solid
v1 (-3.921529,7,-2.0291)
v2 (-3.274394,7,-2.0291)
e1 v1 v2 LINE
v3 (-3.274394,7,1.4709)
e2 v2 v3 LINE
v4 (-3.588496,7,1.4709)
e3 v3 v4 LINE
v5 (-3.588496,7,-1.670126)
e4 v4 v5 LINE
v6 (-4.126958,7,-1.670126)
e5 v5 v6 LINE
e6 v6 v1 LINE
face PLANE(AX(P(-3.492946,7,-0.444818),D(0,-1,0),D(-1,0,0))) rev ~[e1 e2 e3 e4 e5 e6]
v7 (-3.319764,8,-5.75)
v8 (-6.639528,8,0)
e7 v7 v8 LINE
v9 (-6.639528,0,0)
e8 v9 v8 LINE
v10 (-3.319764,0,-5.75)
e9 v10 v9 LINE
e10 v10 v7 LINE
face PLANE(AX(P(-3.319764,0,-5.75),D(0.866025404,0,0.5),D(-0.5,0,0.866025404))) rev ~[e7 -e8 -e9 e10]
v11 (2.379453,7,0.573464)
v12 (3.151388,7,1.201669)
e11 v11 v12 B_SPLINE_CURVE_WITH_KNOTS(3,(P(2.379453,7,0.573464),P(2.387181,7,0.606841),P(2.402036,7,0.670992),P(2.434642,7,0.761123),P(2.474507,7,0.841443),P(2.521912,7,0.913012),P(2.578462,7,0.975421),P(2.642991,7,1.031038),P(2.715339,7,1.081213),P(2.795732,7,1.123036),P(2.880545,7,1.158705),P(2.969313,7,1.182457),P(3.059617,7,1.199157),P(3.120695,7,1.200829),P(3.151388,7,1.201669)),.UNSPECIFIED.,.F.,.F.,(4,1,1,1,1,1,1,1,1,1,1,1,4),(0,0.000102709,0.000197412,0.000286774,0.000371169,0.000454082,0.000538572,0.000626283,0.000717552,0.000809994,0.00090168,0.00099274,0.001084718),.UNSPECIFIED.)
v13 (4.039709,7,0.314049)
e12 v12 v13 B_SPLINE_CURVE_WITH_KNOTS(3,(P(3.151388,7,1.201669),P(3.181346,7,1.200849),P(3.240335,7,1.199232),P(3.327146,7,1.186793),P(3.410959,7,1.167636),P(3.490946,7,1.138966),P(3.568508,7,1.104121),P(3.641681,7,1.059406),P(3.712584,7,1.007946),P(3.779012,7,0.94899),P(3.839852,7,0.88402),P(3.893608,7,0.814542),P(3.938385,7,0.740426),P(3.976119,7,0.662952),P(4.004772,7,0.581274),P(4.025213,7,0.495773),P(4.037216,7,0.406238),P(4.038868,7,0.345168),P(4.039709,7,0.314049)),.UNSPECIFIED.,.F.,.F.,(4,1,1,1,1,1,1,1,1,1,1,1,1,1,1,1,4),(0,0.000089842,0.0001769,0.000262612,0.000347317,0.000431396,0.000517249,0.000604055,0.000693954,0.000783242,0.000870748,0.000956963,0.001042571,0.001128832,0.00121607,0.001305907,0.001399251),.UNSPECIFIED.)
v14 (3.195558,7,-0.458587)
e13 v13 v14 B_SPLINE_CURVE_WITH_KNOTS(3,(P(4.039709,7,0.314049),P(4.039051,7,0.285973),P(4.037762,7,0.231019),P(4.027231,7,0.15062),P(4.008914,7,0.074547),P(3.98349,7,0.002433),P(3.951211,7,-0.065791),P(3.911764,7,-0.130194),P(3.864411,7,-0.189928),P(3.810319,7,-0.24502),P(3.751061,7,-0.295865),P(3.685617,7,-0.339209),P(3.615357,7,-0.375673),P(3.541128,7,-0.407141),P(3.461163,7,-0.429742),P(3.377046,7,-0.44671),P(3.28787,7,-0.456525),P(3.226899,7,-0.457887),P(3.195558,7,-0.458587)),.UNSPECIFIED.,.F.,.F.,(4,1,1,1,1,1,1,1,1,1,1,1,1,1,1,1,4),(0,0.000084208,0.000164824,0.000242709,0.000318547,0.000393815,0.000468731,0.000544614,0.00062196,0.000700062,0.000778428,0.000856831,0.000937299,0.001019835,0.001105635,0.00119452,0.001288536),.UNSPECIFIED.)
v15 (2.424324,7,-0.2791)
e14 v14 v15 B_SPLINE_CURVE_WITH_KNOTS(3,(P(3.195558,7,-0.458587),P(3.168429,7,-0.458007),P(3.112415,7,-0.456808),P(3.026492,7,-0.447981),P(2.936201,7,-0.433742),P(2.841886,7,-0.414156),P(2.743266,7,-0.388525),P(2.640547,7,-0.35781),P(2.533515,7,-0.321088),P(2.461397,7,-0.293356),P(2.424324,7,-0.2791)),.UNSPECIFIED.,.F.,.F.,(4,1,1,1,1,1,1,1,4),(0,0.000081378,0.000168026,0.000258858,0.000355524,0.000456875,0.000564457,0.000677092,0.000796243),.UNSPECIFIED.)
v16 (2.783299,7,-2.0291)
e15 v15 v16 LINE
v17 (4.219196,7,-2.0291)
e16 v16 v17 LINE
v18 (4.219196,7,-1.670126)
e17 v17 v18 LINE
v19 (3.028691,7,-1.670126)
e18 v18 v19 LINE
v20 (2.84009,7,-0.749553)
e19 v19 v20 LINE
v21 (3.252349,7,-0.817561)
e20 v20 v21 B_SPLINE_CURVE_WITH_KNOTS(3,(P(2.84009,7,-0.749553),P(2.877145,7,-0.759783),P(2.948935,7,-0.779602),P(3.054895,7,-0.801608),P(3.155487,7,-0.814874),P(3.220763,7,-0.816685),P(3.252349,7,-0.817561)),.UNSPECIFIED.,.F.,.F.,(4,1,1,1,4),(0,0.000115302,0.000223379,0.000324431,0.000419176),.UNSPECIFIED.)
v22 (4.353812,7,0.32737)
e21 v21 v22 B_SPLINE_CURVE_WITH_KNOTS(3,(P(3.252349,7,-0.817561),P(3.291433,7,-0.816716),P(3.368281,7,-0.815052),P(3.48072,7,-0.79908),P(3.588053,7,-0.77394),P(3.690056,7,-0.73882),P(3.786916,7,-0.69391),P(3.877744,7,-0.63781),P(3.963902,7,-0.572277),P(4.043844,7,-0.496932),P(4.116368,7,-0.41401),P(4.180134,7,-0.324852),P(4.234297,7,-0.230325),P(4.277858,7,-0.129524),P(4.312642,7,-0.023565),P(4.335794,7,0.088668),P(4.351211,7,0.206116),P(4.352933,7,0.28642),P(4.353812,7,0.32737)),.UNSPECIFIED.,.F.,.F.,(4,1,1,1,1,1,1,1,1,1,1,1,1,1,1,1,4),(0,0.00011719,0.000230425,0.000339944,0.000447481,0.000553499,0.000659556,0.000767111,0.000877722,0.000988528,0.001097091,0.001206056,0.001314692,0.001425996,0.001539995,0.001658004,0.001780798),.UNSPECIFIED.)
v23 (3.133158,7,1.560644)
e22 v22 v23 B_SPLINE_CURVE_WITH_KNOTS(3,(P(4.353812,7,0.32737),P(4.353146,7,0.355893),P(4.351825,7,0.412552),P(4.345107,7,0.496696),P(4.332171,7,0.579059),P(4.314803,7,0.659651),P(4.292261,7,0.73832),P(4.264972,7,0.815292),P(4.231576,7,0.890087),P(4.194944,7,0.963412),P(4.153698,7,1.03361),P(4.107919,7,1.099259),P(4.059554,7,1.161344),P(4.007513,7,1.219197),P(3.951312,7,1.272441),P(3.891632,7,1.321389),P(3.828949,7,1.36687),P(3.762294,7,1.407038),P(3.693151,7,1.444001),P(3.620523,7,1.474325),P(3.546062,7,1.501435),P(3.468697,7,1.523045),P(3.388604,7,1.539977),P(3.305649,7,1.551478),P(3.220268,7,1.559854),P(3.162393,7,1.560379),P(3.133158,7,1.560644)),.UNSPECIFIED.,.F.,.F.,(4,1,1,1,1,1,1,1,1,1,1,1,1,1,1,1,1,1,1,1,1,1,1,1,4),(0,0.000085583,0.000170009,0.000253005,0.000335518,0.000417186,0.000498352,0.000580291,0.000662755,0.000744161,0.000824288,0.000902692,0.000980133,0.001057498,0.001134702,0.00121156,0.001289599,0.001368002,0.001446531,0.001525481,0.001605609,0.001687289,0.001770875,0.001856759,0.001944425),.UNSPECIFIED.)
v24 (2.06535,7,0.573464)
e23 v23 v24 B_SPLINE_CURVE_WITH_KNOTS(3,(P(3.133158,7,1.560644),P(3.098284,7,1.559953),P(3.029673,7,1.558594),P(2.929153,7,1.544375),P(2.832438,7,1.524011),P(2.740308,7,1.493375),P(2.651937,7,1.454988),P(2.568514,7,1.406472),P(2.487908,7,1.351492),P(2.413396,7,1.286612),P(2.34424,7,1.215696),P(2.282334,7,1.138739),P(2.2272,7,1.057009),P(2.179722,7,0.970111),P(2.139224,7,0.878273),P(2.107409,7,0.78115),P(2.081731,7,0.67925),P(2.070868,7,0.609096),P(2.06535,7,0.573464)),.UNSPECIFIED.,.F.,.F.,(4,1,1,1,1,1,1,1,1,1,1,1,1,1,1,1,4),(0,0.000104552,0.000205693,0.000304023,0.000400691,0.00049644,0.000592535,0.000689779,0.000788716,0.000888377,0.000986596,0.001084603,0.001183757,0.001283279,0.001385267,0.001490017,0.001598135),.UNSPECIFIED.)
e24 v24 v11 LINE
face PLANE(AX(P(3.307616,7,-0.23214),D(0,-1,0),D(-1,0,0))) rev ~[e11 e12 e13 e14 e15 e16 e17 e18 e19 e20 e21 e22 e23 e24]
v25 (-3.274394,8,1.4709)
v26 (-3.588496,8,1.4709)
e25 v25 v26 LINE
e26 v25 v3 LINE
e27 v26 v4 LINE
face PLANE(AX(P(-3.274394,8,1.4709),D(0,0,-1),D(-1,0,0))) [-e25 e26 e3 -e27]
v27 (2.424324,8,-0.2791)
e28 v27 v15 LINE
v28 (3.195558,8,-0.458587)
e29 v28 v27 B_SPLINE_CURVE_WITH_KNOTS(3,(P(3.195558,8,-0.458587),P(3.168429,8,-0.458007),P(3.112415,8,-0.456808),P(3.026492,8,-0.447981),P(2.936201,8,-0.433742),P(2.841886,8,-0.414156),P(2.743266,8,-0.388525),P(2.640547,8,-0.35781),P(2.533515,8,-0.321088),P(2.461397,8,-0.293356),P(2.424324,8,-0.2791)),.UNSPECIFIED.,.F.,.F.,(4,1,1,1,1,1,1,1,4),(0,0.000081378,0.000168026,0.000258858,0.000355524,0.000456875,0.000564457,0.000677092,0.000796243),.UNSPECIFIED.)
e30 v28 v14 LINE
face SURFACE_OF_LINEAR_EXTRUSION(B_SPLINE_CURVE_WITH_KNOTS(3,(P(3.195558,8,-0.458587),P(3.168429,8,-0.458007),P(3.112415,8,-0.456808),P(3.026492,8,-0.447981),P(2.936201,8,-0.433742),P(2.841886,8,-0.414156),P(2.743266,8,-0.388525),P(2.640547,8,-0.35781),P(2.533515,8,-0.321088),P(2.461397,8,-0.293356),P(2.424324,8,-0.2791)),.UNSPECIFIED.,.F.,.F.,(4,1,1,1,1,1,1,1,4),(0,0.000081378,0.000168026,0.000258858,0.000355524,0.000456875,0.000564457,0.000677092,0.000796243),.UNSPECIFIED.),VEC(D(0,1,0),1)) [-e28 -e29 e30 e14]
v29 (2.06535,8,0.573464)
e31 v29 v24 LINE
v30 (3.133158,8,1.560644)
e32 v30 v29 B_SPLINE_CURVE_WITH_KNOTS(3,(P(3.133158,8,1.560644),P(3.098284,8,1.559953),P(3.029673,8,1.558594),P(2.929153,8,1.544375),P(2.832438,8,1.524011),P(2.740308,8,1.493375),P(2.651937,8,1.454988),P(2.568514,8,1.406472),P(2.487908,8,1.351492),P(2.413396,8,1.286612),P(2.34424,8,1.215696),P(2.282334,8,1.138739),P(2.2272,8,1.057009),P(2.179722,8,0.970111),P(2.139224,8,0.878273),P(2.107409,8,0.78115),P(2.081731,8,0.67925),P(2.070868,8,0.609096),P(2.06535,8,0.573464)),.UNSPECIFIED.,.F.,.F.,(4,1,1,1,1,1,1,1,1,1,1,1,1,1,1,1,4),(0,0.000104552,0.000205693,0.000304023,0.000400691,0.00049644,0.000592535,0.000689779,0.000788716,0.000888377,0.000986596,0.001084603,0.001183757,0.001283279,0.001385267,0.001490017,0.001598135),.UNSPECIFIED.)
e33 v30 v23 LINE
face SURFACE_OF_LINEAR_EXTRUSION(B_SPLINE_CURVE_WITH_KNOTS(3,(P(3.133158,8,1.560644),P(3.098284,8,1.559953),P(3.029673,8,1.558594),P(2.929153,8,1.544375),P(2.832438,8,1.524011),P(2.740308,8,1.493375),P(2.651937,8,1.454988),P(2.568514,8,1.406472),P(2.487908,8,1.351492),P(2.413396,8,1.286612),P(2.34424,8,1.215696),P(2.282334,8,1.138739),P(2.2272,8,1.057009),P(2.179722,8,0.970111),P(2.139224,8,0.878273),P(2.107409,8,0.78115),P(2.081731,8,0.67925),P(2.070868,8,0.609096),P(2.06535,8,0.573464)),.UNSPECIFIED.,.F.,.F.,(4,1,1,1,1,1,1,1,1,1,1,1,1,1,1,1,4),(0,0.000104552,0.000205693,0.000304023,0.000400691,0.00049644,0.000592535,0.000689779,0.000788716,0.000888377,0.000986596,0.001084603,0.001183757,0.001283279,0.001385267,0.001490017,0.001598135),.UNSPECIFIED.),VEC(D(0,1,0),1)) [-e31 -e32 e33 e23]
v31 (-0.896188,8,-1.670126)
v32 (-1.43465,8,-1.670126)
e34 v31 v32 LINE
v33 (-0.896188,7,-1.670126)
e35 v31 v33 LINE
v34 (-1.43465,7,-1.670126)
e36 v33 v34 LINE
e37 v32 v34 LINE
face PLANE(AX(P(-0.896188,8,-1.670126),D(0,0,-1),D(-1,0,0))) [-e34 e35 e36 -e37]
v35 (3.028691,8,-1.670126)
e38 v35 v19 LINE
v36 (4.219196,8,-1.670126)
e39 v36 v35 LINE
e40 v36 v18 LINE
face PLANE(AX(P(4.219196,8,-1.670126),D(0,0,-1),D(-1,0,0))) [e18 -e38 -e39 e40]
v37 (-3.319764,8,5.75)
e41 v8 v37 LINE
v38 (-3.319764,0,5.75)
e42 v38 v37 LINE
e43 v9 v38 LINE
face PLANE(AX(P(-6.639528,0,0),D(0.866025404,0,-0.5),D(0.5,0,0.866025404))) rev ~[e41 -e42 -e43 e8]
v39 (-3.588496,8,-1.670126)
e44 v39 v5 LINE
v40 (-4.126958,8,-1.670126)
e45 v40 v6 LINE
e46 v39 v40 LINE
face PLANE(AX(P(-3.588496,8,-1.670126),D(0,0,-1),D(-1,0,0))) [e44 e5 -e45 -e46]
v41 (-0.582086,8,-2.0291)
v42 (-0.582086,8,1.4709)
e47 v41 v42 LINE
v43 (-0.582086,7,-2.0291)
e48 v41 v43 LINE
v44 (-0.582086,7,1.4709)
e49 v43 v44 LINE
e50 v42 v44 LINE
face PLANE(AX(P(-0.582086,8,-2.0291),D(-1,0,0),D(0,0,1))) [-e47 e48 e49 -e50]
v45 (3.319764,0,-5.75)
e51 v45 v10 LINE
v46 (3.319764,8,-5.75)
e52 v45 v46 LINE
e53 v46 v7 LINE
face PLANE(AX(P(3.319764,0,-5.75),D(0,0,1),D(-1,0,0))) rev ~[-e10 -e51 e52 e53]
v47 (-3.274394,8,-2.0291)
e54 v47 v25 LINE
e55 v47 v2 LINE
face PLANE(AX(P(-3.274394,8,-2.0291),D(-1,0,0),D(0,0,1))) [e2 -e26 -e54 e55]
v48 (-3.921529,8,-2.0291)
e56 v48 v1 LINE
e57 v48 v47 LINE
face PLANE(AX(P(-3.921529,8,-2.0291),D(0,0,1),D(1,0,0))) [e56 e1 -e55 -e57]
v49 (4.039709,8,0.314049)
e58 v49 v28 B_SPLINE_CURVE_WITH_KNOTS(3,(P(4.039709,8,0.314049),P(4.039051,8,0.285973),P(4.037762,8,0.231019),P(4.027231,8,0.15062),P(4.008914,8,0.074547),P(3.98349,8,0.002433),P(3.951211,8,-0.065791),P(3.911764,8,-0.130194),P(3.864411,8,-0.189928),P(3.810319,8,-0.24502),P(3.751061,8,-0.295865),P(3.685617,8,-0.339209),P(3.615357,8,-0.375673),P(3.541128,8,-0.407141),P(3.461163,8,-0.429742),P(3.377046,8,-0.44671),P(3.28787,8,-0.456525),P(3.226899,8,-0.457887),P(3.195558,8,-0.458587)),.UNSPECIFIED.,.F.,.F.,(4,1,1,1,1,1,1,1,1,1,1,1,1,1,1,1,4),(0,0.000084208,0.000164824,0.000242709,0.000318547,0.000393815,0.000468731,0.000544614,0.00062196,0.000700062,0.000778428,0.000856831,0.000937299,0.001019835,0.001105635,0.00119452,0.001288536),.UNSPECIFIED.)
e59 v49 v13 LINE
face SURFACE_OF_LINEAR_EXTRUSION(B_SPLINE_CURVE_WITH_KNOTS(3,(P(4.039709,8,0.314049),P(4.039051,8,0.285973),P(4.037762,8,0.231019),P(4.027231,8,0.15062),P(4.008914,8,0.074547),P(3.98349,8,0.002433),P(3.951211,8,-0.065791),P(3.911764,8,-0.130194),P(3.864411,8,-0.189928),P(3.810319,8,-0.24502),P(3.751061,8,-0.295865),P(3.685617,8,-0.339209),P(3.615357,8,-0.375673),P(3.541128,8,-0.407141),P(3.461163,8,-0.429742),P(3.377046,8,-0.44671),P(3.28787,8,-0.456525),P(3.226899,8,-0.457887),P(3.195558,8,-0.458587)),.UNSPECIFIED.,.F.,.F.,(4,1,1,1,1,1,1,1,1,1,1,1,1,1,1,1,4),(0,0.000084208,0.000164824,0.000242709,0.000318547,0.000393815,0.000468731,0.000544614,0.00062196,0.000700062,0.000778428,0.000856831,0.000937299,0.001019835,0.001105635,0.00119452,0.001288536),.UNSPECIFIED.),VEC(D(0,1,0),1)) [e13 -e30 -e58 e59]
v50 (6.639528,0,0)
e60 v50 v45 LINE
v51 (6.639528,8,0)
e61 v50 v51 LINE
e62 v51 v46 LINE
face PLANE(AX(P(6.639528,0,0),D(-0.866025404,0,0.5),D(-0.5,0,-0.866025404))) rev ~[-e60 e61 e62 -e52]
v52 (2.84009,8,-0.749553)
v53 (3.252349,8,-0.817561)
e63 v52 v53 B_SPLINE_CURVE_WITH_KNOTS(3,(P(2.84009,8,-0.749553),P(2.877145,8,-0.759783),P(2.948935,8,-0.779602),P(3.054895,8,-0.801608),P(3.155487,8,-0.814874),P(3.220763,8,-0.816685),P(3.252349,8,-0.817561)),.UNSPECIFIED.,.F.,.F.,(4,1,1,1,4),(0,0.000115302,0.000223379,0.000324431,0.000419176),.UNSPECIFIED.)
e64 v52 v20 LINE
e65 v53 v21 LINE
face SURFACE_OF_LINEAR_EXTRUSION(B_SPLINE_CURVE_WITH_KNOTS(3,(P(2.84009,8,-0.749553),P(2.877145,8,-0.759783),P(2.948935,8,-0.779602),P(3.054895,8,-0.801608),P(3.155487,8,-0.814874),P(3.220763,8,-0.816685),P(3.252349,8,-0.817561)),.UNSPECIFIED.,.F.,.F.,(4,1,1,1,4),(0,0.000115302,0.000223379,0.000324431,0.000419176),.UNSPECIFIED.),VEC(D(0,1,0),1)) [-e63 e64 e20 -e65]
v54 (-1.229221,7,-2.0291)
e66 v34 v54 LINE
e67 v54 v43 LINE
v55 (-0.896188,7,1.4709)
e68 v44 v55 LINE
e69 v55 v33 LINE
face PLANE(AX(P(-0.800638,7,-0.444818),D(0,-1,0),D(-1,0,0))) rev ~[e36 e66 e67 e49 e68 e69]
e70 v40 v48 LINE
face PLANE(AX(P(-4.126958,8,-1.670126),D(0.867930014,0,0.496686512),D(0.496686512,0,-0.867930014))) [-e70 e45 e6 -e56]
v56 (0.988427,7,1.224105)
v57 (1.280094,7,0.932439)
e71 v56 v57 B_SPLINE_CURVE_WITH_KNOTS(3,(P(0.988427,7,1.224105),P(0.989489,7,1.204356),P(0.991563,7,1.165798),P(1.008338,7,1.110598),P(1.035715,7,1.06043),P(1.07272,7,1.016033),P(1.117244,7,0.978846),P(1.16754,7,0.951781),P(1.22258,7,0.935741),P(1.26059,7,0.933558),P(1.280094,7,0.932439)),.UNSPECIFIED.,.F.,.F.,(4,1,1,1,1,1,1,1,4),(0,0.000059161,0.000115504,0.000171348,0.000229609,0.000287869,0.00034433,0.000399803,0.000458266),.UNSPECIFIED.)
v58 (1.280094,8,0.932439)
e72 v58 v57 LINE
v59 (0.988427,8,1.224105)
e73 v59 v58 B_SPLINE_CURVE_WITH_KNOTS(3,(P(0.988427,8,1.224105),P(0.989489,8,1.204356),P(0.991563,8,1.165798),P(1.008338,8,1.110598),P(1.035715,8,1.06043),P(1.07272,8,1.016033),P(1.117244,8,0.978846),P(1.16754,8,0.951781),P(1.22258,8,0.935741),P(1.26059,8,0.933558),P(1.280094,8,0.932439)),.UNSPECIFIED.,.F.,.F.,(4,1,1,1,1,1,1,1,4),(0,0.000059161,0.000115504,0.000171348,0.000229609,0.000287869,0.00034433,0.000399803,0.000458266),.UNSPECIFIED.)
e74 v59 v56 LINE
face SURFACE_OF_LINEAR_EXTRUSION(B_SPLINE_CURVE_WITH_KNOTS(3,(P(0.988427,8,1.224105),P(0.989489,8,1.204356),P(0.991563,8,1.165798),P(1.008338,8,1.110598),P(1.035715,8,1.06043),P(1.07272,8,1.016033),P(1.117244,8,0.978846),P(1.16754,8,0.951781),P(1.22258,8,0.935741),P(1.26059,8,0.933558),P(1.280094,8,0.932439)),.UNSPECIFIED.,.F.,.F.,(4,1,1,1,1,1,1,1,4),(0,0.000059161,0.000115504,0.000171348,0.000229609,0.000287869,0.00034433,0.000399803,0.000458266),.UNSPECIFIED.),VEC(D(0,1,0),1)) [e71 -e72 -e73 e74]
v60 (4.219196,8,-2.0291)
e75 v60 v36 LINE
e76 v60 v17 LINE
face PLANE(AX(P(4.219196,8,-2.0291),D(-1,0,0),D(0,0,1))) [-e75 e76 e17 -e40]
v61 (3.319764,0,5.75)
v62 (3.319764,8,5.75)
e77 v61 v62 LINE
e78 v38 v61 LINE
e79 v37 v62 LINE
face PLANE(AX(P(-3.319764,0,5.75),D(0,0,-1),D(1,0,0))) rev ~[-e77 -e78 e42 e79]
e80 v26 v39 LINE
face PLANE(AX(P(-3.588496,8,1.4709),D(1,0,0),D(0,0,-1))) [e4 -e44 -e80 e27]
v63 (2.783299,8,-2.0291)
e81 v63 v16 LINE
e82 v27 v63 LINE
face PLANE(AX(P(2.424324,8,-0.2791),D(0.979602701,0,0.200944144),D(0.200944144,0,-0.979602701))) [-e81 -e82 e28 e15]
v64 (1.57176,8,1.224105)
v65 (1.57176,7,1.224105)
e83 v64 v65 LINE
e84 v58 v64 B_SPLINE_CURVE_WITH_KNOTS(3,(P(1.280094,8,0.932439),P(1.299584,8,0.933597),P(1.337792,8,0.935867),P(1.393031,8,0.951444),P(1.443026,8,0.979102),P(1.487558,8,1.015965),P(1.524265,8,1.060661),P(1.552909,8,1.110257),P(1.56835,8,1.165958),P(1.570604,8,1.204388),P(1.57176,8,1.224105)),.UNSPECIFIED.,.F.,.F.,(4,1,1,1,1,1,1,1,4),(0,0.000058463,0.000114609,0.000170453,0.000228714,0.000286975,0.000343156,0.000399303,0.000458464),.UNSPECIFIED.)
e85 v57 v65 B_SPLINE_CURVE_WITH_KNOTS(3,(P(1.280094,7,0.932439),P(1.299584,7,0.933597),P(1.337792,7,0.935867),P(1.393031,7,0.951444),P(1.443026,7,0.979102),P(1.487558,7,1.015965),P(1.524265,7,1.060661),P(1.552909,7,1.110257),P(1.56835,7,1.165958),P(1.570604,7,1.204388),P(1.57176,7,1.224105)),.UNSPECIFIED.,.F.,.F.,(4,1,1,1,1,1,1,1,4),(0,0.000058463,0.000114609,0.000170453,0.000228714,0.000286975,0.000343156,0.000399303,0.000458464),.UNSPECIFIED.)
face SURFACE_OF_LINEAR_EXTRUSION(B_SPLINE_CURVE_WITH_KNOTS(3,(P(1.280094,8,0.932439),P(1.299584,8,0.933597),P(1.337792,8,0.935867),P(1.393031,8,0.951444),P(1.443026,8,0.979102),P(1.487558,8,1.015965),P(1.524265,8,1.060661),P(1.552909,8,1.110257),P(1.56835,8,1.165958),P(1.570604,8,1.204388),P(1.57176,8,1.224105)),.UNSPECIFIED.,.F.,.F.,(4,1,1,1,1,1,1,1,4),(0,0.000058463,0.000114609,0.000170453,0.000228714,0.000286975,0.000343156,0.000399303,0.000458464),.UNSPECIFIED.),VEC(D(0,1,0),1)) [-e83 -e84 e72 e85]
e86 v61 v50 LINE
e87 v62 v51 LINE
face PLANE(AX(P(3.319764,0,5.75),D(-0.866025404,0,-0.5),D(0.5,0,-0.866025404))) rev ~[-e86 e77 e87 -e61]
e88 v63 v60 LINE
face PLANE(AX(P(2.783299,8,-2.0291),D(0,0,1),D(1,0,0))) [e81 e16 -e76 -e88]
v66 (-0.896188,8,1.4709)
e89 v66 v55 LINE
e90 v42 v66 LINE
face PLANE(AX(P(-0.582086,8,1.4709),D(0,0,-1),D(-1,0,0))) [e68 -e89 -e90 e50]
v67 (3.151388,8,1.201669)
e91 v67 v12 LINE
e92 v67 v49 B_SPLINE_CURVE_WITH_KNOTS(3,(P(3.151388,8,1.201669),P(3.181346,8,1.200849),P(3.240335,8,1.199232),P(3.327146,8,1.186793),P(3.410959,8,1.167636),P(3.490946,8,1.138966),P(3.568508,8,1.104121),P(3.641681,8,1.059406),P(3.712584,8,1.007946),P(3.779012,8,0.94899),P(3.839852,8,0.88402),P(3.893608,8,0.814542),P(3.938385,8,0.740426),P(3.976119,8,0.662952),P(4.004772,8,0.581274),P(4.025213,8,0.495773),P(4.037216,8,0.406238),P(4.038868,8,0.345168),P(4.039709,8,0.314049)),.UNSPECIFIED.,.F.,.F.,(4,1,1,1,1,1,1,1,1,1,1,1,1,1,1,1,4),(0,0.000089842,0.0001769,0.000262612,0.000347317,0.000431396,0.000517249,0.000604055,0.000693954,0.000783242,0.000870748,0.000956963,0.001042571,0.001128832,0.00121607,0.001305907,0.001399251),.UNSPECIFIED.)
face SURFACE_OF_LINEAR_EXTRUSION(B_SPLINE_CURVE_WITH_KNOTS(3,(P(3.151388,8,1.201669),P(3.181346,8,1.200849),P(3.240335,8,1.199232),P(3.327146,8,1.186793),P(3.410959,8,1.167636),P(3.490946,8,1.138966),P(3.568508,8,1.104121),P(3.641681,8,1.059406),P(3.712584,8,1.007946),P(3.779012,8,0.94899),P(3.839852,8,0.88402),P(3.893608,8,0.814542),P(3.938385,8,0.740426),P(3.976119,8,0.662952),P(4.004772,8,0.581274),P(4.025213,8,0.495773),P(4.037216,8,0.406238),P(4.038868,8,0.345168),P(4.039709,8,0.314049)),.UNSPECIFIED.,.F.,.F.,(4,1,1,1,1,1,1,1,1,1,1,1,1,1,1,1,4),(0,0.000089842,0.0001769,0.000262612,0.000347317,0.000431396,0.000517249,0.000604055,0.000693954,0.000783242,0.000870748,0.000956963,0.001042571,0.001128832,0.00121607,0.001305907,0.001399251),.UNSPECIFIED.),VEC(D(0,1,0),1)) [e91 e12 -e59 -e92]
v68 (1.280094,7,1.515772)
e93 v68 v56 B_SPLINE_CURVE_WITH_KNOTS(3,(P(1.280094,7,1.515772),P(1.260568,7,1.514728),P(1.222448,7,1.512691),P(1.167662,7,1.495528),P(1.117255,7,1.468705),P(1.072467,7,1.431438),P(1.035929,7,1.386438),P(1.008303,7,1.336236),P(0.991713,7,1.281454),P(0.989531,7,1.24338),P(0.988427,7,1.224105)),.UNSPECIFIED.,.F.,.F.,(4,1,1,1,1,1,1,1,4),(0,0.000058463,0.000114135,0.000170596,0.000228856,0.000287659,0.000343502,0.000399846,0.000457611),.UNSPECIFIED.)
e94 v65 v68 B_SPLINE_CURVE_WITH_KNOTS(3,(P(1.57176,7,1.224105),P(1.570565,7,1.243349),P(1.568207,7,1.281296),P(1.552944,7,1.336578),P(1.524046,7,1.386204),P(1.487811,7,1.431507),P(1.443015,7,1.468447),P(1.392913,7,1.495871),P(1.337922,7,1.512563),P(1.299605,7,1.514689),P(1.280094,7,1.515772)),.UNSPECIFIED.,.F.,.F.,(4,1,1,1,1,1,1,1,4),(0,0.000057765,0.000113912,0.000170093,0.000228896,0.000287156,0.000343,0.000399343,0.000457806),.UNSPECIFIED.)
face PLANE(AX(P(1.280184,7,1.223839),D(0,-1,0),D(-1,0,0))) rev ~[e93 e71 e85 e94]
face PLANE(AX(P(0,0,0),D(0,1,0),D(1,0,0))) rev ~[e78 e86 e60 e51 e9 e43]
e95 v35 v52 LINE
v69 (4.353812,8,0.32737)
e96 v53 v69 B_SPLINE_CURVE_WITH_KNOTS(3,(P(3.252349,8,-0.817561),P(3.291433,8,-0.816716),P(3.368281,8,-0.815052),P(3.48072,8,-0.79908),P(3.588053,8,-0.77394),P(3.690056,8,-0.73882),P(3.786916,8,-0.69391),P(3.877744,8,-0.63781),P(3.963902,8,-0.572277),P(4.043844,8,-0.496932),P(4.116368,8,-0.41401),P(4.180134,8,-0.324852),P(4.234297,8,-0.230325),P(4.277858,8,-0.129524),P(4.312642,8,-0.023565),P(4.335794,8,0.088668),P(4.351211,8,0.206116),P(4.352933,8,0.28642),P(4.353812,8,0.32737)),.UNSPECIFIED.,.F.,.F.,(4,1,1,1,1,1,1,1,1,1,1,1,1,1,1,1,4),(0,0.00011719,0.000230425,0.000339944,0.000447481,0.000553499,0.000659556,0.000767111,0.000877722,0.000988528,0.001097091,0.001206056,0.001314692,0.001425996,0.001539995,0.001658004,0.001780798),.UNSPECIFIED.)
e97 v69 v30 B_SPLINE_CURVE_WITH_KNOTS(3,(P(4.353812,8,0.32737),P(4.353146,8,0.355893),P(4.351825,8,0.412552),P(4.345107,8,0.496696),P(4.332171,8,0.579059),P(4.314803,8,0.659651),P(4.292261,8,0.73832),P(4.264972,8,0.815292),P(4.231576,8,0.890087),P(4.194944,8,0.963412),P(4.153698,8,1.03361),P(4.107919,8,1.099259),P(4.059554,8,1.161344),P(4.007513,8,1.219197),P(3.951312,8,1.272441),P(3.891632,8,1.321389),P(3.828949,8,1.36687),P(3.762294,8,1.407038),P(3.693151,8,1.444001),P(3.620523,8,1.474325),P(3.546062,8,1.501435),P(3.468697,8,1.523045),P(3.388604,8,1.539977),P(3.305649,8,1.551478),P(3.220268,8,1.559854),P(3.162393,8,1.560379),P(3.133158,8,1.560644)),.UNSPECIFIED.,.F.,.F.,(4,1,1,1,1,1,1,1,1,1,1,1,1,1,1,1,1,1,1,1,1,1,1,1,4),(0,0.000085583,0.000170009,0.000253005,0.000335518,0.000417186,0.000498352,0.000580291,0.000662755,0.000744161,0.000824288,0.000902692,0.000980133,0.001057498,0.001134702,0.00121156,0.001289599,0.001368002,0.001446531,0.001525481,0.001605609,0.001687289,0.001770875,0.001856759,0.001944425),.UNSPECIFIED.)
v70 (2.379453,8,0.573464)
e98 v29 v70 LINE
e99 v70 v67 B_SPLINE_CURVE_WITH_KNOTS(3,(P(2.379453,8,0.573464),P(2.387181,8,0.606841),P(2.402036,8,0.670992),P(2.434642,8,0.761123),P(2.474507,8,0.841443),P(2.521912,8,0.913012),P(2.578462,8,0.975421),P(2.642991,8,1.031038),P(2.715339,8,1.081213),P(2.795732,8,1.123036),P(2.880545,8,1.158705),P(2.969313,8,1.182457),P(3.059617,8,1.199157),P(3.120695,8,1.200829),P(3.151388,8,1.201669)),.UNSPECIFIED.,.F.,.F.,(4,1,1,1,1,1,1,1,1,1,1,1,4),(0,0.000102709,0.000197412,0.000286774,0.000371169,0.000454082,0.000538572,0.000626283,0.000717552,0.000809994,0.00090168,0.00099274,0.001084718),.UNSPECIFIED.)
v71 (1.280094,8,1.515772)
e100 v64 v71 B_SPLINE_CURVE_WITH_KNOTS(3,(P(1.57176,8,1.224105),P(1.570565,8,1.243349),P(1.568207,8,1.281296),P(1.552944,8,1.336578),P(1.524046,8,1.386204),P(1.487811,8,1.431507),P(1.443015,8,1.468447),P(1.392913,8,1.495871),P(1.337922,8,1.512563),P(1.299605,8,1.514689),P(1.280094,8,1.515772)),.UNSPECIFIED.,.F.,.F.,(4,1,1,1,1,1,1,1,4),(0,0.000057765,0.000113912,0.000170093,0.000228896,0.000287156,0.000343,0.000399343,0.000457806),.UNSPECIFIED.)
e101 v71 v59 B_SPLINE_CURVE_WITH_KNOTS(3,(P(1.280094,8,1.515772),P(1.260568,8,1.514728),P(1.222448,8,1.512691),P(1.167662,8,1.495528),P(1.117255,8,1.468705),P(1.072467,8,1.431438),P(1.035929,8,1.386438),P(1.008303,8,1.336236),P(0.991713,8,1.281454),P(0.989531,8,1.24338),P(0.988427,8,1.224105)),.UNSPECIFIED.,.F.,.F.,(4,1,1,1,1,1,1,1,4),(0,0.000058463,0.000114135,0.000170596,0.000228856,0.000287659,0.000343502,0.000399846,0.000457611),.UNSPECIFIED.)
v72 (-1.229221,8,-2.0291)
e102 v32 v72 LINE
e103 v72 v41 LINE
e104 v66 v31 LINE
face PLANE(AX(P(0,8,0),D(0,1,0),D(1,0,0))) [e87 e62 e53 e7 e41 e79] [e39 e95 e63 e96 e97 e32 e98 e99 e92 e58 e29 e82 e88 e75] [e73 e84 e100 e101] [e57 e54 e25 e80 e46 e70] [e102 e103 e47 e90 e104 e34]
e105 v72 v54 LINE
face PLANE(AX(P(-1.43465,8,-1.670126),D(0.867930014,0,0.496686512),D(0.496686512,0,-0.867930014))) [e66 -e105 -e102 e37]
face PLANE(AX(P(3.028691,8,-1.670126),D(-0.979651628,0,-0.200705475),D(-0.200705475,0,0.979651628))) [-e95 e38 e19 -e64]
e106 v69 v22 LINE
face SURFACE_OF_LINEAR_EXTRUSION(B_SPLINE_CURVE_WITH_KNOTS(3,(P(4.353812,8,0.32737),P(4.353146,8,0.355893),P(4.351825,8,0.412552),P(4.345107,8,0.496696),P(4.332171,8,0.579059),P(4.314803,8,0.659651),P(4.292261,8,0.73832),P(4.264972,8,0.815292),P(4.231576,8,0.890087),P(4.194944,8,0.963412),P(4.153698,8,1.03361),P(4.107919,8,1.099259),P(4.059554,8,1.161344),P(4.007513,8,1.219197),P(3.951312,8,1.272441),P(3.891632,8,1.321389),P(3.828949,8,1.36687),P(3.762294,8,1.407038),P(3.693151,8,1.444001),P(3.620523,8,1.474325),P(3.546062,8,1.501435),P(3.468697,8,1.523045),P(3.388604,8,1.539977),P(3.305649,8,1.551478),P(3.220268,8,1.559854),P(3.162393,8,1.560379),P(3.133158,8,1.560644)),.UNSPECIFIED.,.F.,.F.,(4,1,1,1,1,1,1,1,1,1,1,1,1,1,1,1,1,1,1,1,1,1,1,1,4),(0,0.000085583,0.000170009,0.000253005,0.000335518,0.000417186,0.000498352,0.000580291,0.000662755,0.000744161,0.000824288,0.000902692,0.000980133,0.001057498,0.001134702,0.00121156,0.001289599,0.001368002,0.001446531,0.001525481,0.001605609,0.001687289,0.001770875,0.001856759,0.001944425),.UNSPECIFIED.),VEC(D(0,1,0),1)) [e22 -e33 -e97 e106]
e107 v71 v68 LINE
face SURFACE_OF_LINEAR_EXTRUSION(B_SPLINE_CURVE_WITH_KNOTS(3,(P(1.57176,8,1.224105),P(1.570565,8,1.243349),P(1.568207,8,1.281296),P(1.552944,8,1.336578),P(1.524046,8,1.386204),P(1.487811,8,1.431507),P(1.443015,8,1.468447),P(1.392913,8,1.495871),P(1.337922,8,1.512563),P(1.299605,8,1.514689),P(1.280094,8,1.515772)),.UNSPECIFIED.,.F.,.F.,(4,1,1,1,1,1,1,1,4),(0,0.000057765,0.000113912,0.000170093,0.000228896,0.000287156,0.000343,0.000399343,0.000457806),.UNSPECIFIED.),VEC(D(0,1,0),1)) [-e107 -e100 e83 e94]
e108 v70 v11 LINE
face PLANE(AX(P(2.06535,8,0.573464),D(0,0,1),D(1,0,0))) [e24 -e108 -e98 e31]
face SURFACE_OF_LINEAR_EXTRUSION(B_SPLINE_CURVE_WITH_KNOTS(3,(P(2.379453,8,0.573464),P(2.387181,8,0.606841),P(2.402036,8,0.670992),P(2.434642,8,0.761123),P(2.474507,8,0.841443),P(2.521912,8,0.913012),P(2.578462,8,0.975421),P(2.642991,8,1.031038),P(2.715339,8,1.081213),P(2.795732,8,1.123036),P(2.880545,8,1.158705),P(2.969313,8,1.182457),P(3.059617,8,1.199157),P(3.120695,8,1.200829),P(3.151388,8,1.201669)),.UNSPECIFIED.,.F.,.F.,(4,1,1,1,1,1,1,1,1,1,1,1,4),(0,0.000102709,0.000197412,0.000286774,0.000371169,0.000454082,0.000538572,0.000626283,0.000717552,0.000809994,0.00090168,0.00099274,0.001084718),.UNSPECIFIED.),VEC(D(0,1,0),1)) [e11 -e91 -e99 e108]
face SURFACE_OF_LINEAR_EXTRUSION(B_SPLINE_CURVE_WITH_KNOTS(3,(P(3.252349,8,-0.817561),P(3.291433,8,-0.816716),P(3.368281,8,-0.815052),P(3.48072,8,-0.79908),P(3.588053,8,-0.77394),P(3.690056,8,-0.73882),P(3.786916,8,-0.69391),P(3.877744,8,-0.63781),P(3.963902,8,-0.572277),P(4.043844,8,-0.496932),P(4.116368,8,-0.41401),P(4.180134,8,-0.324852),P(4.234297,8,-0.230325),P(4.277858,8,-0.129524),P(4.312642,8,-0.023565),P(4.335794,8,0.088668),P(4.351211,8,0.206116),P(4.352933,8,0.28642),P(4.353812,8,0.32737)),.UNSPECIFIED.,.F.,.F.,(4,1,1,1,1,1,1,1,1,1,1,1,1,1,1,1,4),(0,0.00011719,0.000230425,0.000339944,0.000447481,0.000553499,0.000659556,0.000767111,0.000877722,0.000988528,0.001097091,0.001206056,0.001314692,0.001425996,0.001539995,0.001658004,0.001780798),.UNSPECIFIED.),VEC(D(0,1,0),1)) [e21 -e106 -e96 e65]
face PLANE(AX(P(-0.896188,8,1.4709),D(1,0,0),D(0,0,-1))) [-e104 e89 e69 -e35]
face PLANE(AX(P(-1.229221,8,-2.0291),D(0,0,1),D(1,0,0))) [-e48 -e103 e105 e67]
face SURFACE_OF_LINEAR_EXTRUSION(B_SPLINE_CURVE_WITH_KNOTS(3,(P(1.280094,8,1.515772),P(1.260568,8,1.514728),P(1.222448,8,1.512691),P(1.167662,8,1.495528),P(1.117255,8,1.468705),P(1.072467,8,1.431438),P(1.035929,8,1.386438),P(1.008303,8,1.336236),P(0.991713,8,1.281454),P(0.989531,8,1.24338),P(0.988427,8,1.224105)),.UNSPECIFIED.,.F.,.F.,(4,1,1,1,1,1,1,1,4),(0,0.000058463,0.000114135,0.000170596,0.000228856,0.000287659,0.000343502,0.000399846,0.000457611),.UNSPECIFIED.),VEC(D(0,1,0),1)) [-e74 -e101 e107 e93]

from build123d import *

# Parameters (mm, degrees)
BOSS_EXTRUDE1_DEPTH = 8
CUT_EXTRUDE1_DEPTH  = 1


with BuildPart() as part:
    # Sketch2 → Boss-Extrude1 (new body)
    with BuildSketch(Plane(origin=(0, 0, 0), x_dir=(1, 0, 0), z_dir=(0, 1, 0))):
        Polygon((3.319764048, 5.75), (-3.319764048, 5.75), (-6.639528096, 0), (-3.319764048, -5.75), (3.319764048, -5.75), (6.639528096, 0), align=None)
    extrude(amount=BOSS_EXTRUDE1_DEPTH)

    # Sketch7 → Cut-Extrude1 (cut)
    with BuildSketch(Plane(origin=(0, 8, 0), x_dir=(1, 0, 0), z_dir=(0, 1, 0))):
        Polygon((-3.921529, 2.029099912), (-3.274393584, 2.029099912), (-3.274393584, -1.470900088), (-3.588496148, -1.470900088), (-3.588496148, 1.670125553), (-4.126957686, 1.670125553), align=None)
        Polygon((-1.229221308, 2.029099912), (-0.582085891, 2.029099912), (-0.582085891, -1.470900088), (-0.896188456, -1.470900088), (-0.896188456, 1.670125553), (-1.434649994, 1.670125553), align=None)
        with BuildLine():
            add(Edge.make_bspline(
                [(1.280093596, -0.932438549), (1.299583808, -0.933596716), (1.33779209, -0.935867166), (1.393031219, -0.95144384), (1.443025878, -0.9791025), (1.487558123, -1.015965279), (1.5242646, -1.060660942), (1.552908952, -1.110256851), (1.568349937, -1.165958443), (1.570603849, -1.204388118), (1.571760262, -1.224105216)],
                knots=[0, 0, 0, 0, 5.8463e-05, 0.000114609, 0.000170453, 0.000228714, 0.000286975, 0.000343156, 0.000399303, 0.000458464, 0.000458464, 0.000458464, 0.000458464], degree=3))
            add(Edge.make_bspline(
                [(1.571760262, -1.224105216), (1.570564662, -1.243348546), (1.568206955, -1.281296109), (1.552944346, -1.336577572), (1.524046296, -1.386204476), (1.487811303, -1.431506615), (1.44301487, -1.468447485), (1.392913023, -1.49587083), (1.337921765, -1.51256281), (1.299605442, -1.514689107), (1.280093596, -1.515771883)],
                knots=[0, 0, 0, 0, 5.7765e-05, 0.000113912, 0.000170093, 0.000228896, 0.000287156, 0.000343, 0.000399343, 0.000457806, 0.000457806, 0.000457806, 0.000457806], degree=3))
            add(Edge.make_bspline(
                [(1.280093596, -1.515771883), (1.26056769, -1.514728285), (1.222448007, -1.51269091), (1.167662013, -1.495528104), (1.117255045, -1.468704644), (1.072467333, -1.431437734), (1.035928861, -1.386437591), (1.008303478, -1.336235794), (0.99171333, -1.281454357), (0.989531457, -1.243379714), (0.988426929, -1.224105216)],
                knots=[0, 0, 0, 0, 5.8463e-05, 0.000114135, 0.000170596, 0.000228856, 0.000287659, 0.000343502, 0.000399846, 0.000457611, 0.000457611, 0.000457611, 0.000457611], degree=3))
            add(Edge.make_bspline(
                [(0.988426929, -1.224105216), (0.989489028, -1.204355836), (0.991562647, -1.165797596), (1.008338307, -1.110598489), (1.035714519, -1.060430049), (1.072719914, -1.016033469), (1.11724421, -0.978846167), (1.167540415, -0.951781374), (1.222579955, -0.935740961), (1.260589894, -0.933558445), (1.280093596, -0.932438549)],
                knots=[0, 0, 0, 0, 5.9161e-05, 0.000115504, 0.000171348, 0.000229609, 0.000287869, 0.00034433, 0.000399803, 0.000458266, 0.000458266, 0.000458266, 0.000458266], degree=3))
        make_face()
        with BuildLine():
            Line((4.21919616, 2.029099912), (4.21919616, 1.670125553))
            Line((4.21919616, 1.670125553), (3.028691352, 1.670125553))
            Line((3.028691352, 1.670125553), (2.840089589, 0.749552637))
            add(Edge.make_bspline(
                [(2.840089589, 0.749552637), (2.877145464, 0.759782909), (2.94893536, 0.779602442), (3.054895221, 0.801608213), (3.155487424, 0.814873657), (3.220762794, 0.816684967), (3.252349205, 0.817561451)],
                knots=[0, 0, 0, 0, 0.000115302, 0.000223379, 0.000324431, 0.000419176, 0.000419176, 0.000419176, 0.000419176], degree=3))
            add(Edge.make_bspline(
                [(3.252349205, 0.817561451), (3.291432944, 0.816715515), (3.368281342, 0.815052194), (3.480720289, 0.799080345), (3.588053182, 0.77394043), (3.690055552, 0.738819908), (3.786916103, 0.693910175), (3.877743664, 0.637810235), (3.963901577, 0.572276904), (4.043844171, 0.496931892), (4.116368479, 0.414010275), (4.180134469, 0.324852404), (4.234297059, 0.230324742), (4.277857814, 0.129524133), (4.312642149, 0.02356498), (4.335794143, -0.088667603), (4.351210852, -0.206115723), (4.352933239, -0.286420293), (4.353811544, -0.32737044)],
                knots=[0, 0, 0, 0, 0.00011719, 0.000230425, 0.000339944, 0.000447481, 0.000553499, 0.000659556, 0.000767111, 0.000877722, 0.000988528, 0.001097091, 0.001206056, 0.001314692, 0.001425996, 0.001539995, 0.001658004, 0.001780798, 0.001780798, 0.001780798, 0.001780798], degree=3))
            add(Edge.make_bspline(
                [(4.353811544, -0.32737044), (4.353146469, -0.355892661), (4.351825307, -0.412551648), (4.345106719, -0.496695849), (4.332171003, -0.579058682), (4.314803279, -0.659651074), (4.292260861, -0.738320446), (4.264971807, -0.815291974), (4.231575779, -0.890086581), (4.194944404, -0.963411976), (4.153697926, -1.033610483), (4.107919419, -1.099259469), (4.059553928, -1.161343751), (4.007512542, -1.219197484), (3.951311547, -1.272440502), (3.89163158, -1.321388783), (3.828948861, -1.366870114), (3.762293619, -1.407038309), (3.693151136, -1.444001265), (3.620522919, -1.474324802), (3.546062218, -1.50143533), (3.468697343, -1.523044858), (3.38860353, -1.539977412), (3.305648754, -1.551478013), (3.220268084, -1.55985445), (3.162393072, -1.560378807), (3.1331585, -1.560643677)],
                knots=[0, 0, 0, 0, 8.5583e-05, 0.000170009, 0.000253005, 0.000335518, 0.000417186, 0.000498352, 0.000580291, 0.000662755, 0.000744161, 0.000824288, 0.000902692, 0.000980133, 0.001057498, 0.001134702, 0.00121156, 0.001289599, 0.001368002, 0.001446531, 0.001525481, 0.001605609, 0.001687289, 0.001770875, 0.001856759, 0.001944425, 0.001944425, 0.001944425, 0.001944425], degree=3))
            add(Edge.make_bspline(
                [(3.1331585, -1.560643677), (3.098284319, -1.559952839), (3.029673488, -1.558593697), (2.929152921, -1.544375212), (2.832438315, -1.524011296), (2.740308214, -1.493375026), (2.651936951, -1.454987731), (2.568514233, -1.40647156), (2.487908457, -1.351492456), (2.41339642, -1.286612103), (2.344240307, -1.215696421), (2.282333798, -1.13873878), (2.227200221, -1.057009338), (2.179722474, -0.970111184), (2.139224453, -0.878272653), (2.107409464, -0.781149652), (2.081731109, -0.679249648), (2.070867689, -0.609096137), (2.065350006, -0.57346419)],
                knots=[0, 0, 0, 0, 0.000104552, 0.000205693, 0.000304023, 0.000400691, 0.00049644, 0.000592535, 0.000689779, 0.000788716, 0.000888377, 0.000986596, 0.001084603, 0.001183757, 0.001283279, 0.001385267, 0.001490017, 0.001598135, 0.001598135, 0.001598135, 0.001598135], degree=3))
            Line((2.065350006, -0.57346419), (2.37945257, -0.57346419))
            add(Edge.make_bspline(
                [(2.37945257, -0.57346419), (2.387181128, -0.606840643), (2.402035844, -0.670992038), (2.434641593, -0.761123379), (2.474507468, -0.841442603), (2.521911817, -0.913012186), (2.578461847, -0.975421183), (2.642991276, -1.031038245), (2.715338999, -1.081213374), (2.795732229, -1.123036142), (2.880545308, -1.158704895), (2.969312518, -1.18245659), (3.059616865, -1.199157483), (3.120695235, -1.200829244), (3.151387666, -1.201669318)],
                knots=[0, 0, 0, 0, 0.000102709, 0.000197412, 0.000286774, 0.000371169, 0.000454082, 0.000538572, 0.000626283, 0.000717552, 0.000809994, 0.00090168, 0.00099274, 0.001084718, 0.001084718, 0.001084718, 0.001084718], degree=3))
            add(Edge.make_bspline(
                [(3.151387666, -1.201669318), (3.181346111, -1.20084854), (3.240334533, -1.199232422), (3.32714592, -1.18679341), (3.410958794, -1.167635839), (3.490946151, -1.138965984), (3.56850769, -1.104121265), (3.641681461, -1.059406189), (3.712584338, -1.007946171), (3.779012471, -0.948989541), (3.83985192, -0.884019846), (3.893608042, -0.814542453), (3.938384955, -0.740425606), (3.976119064, -0.662952454), (4.004772363, -0.581273896), (4.025213344, -0.495772721), (4.037216403, -0.406237741), (4.038867583, -0.345168431), (4.03970898, -0.314049126)],
                knots=[0, 0, 0, 0, 8.9842e-05, 0.0001769, 0.000262612, 0.000347317, 0.000431396, 0.000517249, 0.000604055, 0.000693954, 0.000783242, 0.000870748, 0.000956963, 0.001042571, 0.001128832, 0.00121607, 0.001305907, 0.001399251, 0.001399251, 0.001399251, 0.001399251], degree=3))
            add(Edge.make_bspline(
                [(4.03970898, -0.314049126), (4.039050501, -0.285973374), (4.037761621, -0.231019085), (4.027231051, -0.150619879), (4.008914078, -0.074546837), (3.983490198, -0.002432603), (3.951210691, 0.06579084), (3.911764378, 0.1301939), (3.86441098, 0.189927733), (3.810319092, 0.245020287), (3.751061051, 0.295865162), (3.685617308, 0.339209248), (3.615357382, 0.375673166), (3.541127782, 0.407141164), (3.461162883, 0.429741909), (3.377046251, 0.446709795), (3.287869543, 0.456525158), (3.226898855, 0.457887046), (3.195558339, 0.458587092)],
                knots=[0, 0, 0, 0, 8.4208e-05, 0.000164824, 0.000242709, 0.000318547, 0.000393815, 0.000468731, 0.000544614, 0.00062196, 0.000700062, 0.000778428, 0.000856831, 0.000937299, 0.001019835, 0.001105635, 0.00119452, 0.001288536, 0.001288536, 0.001288536, 0.001288536], degree=3))
            add(Edge.make_bspline(
                [(3.195558339, 0.458587092), (3.168429411, 0.458006501), (3.112415055, 0.456807727), (3.026492228, 0.44798123), (2.936200506, 0.433741936), (2.84188601, 0.414155689), (2.743265502, 0.388524612), (2.640547101, 0.357810111), (2.533514835, 0.321088112), (2.46139711, 0.293355899), (2.424324365, 0.279099912)],
                knots=[0, 0, 0, 0, 8.1378e-05, 0.000168026, 0.000258858, 0.000355524, 0.000456875, 0.000564457, 0.000677092, 0.000796243, 0.000796243, 0.000796243, 0.000796243], degree=3))
            Line((2.424324365, 0.279099912), (2.783298724, 2.029099912))
            Line((2.783298724, 2.029099912), (4.21919616, 2.029099912))
        make_face()
    extrude(amount=-CUT_EXTRUDE1_DEPTH, mode=Mode.SUBTRACT)


solid = part.part
